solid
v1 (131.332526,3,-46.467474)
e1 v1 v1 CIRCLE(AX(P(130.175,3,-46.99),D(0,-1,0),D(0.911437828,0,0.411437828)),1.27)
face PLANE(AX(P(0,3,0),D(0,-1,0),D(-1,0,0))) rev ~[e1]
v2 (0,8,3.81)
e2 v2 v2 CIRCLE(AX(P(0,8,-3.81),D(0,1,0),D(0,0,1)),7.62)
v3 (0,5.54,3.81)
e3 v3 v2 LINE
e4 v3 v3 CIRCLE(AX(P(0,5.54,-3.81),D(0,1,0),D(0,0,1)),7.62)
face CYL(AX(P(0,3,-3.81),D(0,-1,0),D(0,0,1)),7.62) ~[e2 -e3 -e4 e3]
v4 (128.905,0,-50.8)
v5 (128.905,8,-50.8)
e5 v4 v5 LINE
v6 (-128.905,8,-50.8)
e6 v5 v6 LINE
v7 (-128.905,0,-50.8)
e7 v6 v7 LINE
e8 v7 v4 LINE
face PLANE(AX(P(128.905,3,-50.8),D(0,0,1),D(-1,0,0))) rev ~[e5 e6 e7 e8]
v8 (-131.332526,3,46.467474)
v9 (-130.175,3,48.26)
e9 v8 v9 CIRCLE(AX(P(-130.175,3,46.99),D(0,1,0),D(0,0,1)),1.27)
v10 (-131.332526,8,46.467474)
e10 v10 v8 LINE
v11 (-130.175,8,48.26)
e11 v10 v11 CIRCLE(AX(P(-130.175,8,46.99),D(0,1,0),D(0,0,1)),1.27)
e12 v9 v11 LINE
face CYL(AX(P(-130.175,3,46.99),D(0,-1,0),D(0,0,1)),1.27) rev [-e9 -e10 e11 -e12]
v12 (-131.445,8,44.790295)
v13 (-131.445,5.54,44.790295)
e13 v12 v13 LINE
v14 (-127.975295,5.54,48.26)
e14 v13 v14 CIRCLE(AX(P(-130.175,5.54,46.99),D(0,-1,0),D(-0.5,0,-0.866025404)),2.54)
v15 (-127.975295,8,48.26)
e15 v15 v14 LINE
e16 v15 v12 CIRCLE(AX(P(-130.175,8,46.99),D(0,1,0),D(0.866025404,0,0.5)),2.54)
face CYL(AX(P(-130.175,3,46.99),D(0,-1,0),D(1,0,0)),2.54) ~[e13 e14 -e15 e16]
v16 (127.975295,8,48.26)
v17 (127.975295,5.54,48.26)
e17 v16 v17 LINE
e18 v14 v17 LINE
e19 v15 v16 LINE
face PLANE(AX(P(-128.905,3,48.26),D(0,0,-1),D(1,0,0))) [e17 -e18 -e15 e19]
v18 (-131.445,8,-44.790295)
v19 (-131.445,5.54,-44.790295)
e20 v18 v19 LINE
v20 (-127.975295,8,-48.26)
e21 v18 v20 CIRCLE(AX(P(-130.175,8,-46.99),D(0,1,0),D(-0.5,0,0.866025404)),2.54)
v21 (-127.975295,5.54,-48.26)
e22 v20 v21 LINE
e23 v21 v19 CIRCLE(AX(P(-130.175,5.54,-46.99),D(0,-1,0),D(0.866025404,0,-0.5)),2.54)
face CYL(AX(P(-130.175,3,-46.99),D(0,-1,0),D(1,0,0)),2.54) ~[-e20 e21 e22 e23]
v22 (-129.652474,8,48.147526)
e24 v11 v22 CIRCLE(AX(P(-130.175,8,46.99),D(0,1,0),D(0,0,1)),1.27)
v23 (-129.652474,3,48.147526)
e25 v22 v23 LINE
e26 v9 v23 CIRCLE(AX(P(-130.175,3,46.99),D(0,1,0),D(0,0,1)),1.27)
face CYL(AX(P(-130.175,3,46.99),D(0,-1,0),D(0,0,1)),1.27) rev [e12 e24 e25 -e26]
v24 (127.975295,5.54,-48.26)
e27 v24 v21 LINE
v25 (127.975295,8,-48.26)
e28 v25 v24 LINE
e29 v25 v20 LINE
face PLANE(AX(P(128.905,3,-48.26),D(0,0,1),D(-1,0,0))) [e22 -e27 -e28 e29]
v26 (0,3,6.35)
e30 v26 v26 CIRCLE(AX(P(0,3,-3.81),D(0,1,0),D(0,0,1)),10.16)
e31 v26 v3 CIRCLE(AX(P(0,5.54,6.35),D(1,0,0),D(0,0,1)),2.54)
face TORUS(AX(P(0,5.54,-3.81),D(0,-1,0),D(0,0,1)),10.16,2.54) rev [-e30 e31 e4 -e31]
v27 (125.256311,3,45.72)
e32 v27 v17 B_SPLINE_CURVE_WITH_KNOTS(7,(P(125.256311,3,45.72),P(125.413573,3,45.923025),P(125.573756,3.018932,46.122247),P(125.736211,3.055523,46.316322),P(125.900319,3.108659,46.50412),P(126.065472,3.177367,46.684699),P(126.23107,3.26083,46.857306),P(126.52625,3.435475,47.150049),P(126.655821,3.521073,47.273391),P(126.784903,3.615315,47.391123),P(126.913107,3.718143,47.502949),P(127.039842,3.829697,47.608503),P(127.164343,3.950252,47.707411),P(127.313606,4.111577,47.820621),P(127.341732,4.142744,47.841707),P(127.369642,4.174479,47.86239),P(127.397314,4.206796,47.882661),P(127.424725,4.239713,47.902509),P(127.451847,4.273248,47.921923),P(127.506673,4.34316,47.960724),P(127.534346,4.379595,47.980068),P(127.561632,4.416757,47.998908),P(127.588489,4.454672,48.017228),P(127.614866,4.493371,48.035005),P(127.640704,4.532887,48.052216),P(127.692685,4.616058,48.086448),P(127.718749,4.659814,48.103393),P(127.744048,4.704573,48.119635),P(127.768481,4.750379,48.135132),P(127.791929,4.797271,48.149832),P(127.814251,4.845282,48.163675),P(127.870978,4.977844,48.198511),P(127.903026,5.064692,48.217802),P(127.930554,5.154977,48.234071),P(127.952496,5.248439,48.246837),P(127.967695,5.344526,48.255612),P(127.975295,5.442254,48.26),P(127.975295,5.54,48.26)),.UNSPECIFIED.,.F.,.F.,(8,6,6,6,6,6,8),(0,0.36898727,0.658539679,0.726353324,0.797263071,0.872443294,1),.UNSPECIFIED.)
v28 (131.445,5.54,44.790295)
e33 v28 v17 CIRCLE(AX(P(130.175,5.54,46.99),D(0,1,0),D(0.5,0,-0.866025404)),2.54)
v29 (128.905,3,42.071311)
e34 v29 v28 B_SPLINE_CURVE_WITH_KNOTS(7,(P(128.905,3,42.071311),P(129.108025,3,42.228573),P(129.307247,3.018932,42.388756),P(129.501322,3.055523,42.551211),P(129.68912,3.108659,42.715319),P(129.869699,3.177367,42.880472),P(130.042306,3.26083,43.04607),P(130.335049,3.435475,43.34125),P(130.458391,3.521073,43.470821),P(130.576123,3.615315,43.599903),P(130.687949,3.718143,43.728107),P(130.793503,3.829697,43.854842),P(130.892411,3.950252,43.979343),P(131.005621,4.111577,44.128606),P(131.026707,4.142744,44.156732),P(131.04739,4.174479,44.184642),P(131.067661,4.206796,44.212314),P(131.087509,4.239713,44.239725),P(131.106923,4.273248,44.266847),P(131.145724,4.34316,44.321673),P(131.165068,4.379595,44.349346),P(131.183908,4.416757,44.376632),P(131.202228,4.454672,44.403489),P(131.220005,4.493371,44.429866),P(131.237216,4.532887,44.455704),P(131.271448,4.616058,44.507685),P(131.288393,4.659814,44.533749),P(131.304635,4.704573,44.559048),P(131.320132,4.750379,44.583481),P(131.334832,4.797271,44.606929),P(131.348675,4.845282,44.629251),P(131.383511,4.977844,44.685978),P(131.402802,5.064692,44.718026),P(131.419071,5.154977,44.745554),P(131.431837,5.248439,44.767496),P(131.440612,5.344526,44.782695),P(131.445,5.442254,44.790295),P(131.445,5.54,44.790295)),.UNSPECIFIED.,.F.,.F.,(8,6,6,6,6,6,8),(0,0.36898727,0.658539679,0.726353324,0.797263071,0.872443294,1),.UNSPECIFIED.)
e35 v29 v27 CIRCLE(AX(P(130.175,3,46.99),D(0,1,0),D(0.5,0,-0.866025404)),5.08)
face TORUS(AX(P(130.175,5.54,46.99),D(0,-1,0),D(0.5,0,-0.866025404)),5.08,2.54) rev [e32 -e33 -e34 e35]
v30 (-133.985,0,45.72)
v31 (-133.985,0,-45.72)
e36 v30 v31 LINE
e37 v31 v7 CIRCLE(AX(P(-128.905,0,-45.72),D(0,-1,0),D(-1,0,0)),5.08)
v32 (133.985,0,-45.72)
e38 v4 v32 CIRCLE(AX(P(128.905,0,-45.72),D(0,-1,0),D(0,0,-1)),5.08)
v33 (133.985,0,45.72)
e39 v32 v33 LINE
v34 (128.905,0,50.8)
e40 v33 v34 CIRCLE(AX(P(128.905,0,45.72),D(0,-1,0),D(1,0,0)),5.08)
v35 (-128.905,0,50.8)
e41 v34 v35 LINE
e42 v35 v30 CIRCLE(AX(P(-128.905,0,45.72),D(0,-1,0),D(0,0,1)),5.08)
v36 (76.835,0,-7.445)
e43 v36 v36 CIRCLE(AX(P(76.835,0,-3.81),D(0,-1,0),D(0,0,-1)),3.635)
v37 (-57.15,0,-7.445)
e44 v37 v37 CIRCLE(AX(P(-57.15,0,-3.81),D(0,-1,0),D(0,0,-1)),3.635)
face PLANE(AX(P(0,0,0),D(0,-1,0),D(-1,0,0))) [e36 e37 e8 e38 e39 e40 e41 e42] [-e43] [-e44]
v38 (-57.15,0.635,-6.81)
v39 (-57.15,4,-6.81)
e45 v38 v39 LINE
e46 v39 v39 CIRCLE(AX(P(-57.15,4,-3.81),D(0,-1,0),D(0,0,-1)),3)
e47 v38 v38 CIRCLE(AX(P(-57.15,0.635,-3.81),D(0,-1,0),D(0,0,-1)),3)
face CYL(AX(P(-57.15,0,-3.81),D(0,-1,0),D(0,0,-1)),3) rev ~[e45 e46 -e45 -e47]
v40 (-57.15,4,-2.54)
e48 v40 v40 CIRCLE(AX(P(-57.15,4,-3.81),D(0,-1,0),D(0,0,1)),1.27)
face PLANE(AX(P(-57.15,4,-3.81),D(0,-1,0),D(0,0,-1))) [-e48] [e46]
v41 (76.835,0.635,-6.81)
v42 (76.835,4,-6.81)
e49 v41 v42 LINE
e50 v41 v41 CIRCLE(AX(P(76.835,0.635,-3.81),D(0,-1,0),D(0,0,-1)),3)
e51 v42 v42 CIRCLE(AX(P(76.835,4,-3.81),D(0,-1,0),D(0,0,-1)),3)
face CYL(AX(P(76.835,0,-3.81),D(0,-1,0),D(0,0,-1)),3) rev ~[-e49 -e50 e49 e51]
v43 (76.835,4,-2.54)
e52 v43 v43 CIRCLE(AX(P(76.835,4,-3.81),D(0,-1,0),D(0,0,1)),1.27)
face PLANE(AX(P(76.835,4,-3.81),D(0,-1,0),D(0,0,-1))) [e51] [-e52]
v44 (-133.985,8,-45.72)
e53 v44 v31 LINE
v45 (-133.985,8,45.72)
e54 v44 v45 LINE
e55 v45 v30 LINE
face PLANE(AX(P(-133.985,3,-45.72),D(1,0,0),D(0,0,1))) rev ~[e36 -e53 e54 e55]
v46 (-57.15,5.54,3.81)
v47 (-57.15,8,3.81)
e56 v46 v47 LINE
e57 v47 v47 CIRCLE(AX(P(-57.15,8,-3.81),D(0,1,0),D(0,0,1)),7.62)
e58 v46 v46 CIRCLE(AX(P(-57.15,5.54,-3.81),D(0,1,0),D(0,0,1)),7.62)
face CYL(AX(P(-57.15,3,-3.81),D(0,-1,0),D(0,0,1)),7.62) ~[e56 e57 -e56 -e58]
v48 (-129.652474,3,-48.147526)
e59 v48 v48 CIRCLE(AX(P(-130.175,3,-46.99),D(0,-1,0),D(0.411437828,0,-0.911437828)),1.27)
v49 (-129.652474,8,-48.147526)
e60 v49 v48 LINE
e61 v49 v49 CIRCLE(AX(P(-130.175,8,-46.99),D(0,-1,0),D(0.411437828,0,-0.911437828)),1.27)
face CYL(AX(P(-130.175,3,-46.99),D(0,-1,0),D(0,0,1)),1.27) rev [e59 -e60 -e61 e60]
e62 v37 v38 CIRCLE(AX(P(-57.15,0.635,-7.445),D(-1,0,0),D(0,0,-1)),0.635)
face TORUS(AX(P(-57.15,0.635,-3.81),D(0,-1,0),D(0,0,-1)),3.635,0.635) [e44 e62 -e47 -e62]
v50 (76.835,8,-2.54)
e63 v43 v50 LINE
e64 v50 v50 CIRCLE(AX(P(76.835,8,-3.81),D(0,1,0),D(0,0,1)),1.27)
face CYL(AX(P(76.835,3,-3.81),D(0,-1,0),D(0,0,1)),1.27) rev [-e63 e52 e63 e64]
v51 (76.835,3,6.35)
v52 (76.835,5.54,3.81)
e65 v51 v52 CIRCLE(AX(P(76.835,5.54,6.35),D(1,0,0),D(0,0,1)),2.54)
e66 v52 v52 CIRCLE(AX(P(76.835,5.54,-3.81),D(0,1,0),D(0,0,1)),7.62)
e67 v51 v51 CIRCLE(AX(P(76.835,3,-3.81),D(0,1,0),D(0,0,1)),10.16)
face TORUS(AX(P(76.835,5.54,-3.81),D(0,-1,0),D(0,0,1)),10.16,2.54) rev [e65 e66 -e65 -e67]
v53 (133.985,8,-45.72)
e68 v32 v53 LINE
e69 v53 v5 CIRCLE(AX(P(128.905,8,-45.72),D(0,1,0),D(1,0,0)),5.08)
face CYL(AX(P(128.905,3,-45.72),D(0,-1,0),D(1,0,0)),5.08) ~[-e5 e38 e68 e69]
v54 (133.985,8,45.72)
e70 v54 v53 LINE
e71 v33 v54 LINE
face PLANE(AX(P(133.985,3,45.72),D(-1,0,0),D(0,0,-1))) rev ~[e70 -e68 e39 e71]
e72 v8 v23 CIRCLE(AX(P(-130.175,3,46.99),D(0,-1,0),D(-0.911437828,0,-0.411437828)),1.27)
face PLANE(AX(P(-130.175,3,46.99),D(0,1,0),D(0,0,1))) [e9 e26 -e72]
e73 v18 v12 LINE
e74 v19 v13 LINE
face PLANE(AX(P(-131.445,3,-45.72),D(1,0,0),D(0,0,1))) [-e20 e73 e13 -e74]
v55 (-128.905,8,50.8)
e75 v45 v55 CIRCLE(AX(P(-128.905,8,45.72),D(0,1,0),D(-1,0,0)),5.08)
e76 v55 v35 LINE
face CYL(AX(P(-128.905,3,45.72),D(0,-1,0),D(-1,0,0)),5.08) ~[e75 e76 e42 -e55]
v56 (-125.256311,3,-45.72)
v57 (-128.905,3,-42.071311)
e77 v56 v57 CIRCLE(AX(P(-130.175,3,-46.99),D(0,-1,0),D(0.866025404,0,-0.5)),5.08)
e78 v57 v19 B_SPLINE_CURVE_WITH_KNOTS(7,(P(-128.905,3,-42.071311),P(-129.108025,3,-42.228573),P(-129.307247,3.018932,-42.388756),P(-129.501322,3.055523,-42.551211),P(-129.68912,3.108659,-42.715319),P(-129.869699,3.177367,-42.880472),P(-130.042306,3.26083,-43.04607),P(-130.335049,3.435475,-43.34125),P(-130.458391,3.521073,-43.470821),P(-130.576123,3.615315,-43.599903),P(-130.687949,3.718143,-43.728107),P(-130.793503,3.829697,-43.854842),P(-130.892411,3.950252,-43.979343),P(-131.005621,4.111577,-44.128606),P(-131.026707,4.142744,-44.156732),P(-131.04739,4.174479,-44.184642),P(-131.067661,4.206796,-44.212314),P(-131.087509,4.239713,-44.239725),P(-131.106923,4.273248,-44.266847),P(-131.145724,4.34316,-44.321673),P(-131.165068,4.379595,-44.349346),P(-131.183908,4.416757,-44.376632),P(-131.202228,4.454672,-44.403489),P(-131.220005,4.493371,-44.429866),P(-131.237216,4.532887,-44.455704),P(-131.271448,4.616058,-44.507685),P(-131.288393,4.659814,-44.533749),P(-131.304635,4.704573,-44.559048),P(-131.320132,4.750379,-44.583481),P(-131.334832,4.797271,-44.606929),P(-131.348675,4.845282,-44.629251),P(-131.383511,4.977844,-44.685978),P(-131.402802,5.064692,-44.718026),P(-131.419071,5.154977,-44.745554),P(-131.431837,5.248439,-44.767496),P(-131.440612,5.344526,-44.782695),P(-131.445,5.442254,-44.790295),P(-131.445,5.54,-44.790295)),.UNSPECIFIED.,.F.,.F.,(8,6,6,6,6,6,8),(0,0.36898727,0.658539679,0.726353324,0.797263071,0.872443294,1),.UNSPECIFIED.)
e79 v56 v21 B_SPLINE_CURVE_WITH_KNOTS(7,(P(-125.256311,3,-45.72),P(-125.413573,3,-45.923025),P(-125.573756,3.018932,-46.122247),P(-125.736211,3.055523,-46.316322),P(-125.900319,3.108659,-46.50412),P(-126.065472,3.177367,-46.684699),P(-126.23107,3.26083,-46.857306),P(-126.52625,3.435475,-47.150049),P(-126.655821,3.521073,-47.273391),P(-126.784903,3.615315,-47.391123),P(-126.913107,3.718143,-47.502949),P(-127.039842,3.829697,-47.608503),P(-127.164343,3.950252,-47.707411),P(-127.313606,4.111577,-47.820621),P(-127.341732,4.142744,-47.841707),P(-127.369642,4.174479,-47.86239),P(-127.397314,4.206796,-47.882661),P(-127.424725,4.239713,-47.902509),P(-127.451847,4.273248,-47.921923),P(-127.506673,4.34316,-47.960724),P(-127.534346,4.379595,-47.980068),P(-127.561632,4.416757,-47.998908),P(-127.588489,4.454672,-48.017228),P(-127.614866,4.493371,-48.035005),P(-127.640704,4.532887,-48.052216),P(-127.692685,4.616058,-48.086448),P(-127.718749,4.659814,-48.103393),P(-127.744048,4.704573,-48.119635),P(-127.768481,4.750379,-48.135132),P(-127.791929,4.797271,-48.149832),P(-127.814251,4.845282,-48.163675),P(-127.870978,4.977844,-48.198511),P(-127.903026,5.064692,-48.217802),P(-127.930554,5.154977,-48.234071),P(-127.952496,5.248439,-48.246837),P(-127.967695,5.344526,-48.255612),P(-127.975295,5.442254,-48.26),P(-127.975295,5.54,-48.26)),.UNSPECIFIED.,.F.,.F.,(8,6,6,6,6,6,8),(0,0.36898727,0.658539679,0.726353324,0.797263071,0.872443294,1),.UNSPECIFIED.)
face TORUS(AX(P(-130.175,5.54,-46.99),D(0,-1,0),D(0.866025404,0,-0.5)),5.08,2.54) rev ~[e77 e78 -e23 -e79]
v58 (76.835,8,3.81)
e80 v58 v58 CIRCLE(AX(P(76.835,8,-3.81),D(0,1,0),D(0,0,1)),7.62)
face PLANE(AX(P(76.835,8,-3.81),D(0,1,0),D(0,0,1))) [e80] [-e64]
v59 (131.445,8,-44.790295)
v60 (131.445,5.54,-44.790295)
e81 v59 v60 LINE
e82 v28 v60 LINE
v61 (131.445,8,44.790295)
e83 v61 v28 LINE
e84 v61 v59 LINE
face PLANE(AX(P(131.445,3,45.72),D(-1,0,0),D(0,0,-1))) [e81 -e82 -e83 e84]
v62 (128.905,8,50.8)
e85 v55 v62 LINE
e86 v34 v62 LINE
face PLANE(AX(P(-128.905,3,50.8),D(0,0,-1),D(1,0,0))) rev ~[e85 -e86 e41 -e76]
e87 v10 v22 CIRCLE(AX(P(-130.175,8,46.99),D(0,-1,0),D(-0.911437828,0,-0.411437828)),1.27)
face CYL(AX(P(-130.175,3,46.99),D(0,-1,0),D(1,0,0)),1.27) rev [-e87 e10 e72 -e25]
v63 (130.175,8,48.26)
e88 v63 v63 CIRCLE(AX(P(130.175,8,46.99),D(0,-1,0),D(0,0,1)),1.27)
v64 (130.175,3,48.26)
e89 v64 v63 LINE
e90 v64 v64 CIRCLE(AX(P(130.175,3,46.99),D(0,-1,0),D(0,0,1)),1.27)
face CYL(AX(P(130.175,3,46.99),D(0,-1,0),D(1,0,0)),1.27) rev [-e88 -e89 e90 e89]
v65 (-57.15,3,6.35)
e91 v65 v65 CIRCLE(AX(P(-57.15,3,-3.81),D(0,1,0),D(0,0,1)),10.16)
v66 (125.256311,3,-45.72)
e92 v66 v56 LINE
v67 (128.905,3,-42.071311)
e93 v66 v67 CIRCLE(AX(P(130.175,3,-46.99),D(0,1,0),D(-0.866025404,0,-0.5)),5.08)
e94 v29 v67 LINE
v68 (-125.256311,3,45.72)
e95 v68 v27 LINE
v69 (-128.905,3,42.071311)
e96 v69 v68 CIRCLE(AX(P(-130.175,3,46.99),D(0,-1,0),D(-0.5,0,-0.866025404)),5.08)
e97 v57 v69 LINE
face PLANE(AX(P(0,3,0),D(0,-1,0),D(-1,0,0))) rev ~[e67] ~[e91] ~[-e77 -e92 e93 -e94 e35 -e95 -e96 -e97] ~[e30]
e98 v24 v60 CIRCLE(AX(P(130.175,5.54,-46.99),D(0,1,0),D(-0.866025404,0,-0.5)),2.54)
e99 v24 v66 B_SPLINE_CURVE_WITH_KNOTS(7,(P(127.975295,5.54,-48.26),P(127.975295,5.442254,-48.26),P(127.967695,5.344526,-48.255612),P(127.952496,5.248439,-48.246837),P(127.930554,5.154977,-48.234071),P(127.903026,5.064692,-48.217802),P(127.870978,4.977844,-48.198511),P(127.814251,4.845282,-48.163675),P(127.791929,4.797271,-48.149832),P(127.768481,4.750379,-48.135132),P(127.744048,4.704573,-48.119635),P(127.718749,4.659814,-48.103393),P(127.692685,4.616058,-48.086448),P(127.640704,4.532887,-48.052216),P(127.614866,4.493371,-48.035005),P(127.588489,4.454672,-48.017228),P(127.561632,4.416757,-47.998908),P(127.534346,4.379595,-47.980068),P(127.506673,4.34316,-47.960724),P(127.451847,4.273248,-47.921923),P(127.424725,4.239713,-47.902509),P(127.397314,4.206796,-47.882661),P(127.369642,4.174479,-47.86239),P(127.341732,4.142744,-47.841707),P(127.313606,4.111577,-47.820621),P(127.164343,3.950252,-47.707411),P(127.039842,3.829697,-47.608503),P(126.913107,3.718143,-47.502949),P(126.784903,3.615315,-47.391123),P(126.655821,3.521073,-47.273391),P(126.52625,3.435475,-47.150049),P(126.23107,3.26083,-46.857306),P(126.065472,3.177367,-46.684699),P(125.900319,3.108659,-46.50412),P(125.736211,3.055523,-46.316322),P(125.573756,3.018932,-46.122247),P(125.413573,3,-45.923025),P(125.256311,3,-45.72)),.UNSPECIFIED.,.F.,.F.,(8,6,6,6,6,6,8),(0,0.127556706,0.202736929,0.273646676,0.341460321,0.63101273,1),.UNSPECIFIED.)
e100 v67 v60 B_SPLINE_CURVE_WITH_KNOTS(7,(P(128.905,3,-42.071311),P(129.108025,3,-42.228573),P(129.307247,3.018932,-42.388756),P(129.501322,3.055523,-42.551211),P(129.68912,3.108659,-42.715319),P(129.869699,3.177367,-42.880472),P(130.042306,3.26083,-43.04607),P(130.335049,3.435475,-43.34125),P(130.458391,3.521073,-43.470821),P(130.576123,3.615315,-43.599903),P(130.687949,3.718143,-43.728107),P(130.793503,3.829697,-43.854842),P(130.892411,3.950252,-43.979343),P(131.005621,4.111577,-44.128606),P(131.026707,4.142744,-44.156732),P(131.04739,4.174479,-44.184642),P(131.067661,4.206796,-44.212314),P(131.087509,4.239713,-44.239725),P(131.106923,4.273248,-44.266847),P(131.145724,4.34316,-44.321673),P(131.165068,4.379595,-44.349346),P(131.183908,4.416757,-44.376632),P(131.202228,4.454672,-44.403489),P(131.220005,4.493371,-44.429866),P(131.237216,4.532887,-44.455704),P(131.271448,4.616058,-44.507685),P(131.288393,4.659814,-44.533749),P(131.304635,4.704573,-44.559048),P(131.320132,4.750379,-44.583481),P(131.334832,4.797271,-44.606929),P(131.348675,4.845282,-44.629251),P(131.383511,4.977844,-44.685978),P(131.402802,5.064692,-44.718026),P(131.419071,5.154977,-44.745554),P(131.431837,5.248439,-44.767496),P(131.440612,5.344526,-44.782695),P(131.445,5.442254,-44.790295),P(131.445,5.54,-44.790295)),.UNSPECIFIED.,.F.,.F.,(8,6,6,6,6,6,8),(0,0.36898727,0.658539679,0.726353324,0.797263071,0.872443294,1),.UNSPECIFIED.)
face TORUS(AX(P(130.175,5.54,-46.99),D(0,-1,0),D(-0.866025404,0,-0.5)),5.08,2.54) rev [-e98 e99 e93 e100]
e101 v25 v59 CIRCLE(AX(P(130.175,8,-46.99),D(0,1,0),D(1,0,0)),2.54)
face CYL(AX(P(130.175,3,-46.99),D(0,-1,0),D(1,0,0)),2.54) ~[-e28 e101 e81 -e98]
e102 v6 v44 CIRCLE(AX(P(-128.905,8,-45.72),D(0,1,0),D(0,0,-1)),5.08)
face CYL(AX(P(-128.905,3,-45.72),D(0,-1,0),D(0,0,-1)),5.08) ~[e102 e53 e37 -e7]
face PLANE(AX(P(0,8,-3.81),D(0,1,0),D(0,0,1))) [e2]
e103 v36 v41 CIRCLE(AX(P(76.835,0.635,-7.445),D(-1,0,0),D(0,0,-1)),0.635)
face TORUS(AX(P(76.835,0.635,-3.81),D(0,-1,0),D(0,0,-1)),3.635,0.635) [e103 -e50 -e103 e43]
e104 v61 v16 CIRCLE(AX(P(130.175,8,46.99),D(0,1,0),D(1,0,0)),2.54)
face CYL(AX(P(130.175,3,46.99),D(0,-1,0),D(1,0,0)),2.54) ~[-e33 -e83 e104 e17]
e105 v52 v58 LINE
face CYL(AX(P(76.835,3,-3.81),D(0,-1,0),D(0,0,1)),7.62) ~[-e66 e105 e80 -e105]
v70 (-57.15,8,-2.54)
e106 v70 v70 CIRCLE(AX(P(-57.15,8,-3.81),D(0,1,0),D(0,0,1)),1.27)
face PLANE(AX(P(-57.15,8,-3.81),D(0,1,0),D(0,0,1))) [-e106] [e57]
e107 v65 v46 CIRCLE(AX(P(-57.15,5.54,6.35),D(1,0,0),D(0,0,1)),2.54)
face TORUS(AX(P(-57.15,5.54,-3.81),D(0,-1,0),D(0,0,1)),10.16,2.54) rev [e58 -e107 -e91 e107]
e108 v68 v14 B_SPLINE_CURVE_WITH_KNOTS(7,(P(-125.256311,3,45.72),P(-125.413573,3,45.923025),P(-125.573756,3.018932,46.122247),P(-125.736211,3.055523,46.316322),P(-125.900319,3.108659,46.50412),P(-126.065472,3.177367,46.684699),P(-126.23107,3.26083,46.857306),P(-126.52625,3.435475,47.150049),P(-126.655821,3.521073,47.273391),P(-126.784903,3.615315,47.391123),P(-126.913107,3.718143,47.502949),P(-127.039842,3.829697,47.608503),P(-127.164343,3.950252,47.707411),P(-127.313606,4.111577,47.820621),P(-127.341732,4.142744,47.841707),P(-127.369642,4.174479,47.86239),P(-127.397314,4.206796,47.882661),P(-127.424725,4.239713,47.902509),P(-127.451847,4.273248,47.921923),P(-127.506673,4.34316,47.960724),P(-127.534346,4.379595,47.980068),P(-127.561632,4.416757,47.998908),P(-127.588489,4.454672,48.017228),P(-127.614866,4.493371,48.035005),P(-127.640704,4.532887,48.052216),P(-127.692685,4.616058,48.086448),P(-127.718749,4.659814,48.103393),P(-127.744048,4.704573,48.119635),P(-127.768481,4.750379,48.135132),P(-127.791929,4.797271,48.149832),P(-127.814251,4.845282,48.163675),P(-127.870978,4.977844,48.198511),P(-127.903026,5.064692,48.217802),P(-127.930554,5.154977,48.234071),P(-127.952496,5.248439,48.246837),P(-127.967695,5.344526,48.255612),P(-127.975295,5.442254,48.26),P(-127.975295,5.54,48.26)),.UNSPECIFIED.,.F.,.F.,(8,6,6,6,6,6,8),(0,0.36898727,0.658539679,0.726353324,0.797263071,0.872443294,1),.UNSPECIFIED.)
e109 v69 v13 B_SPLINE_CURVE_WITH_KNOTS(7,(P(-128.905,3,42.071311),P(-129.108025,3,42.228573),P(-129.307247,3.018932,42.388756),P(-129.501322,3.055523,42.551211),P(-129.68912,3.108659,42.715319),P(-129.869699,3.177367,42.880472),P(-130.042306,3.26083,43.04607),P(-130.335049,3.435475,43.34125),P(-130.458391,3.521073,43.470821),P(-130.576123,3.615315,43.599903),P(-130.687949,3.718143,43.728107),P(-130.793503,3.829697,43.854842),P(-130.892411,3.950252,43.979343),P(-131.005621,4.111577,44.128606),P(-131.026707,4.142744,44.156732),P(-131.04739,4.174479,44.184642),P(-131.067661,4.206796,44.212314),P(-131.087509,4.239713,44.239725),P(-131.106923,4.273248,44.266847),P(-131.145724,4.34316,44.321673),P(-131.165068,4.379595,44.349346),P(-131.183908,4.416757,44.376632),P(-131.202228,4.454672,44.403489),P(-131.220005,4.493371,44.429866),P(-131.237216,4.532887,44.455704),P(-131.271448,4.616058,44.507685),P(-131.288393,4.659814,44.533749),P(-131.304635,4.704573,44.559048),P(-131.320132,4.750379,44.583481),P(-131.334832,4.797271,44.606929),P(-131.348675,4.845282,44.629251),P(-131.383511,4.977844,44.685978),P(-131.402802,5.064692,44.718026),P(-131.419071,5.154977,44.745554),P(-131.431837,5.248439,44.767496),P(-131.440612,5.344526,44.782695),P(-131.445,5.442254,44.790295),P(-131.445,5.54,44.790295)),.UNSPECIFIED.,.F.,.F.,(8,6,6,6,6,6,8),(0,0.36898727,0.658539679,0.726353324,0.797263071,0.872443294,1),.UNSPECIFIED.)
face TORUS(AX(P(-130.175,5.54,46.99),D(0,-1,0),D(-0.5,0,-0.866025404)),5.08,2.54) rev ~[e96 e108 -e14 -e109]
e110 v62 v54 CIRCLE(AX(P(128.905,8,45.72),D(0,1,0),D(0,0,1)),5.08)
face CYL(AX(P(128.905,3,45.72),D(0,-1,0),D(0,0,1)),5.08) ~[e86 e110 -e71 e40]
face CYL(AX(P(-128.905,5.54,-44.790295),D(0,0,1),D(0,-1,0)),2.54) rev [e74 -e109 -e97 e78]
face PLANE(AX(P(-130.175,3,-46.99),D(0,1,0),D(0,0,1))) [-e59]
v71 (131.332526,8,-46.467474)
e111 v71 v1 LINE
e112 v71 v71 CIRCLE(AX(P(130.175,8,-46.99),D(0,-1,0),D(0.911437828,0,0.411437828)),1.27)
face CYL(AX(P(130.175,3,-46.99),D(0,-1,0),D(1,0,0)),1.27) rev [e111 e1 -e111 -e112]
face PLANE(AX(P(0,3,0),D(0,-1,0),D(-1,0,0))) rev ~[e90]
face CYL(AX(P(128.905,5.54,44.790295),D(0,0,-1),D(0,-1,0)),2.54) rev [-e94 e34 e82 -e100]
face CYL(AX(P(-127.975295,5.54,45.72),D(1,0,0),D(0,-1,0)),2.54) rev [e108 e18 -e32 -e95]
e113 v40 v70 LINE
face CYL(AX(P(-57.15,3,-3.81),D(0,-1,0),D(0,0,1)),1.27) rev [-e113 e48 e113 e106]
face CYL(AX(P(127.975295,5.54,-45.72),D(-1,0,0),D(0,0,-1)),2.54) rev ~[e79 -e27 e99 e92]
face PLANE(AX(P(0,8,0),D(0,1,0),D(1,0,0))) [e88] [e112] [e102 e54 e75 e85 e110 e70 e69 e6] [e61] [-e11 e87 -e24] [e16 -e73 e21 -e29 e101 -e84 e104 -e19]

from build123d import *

# Parameters (mm, degrees)
BOSS_EXTRUDE1_DEPTH = 3
BOSS_EXTRUDE2_DEPTH = 5
SKETCH3_R           = 7.62
SKETCH3_R_2         = 1.27
SKETCH3_R_3         = 2.54
BOSS_EXTRUDE3_DEPTH = 5
FILLET1_R           = 2.54
SKETCH4_R           = 3
CUT_EXTRUDE1_DEPTH  = 4
FILLET2_R           = 0.635
CUT_EXTRUDE2_START  = -5
SKETCH5_R           = 1.27
CUT_EXTRUDE2_DEPTH  = 5


with BuildPart() as part:
    # Sketch1 → Boss-Extrude1 (new body)
    with BuildSketch(Plane(origin=(0, 0, 0), x_dir=(1, 0, 0), z_dir=(0, 1, 0))):
        with BuildLine():
            Line((-128.905, 50.8), (128.905, 50.8))
            ThreePointArc((128.905, 50.8), (132.497102448, 49.312102448), (133.985, 45.72))
            Line((133.985, 45.72), (133.985, -45.72))
            ThreePointArc((133.985, -45.72), (132.497102448, -49.312102448), (128.905, -50.8))
            Line((128.905, -50.8), (-128.905, -50.8))
            ThreePointArc((-128.905, -50.8), (-132.497102448, -49.312102448), (-133.985, -45.72))
            Line((-133.985, -45.72), (-133.985, 45.72))
            ThreePointArc((-133.985, 45.72), (-132.497102448, 49.312102448), (-128.905, 50.8))
        make_face()
    extrude(amount=BOSS_EXTRUDE1_DEPTH)

    # Sketch2 → Boss-Extrude2 (add)
    with BuildSketch(Plane(origin=(0, 3, 0), x_dir=(1, 0, 0), z_dir=(0, 1, 0))):
        with BuildLine():
            Line((-128.905, -50.8), (128.905, -50.8))
            ThreePointArc((128.905, -50.8), (132.497102448, -49.312102448), (133.985, -45.72))
            Line((133.985, -45.72), (133.985, 45.72))
            ThreePointArc((133.985, 45.72), (132.497102448, 49.312102448), (128.905, 50.8))
            Line((128.905, 50.8), (-128.905, 50.8))
            ThreePointArc((-128.905, 50.8), (-132.497102448, 49.312102448), (-133.985, 45.72))
            Line((-133.985, 45.72), (-133.985, -45.72))
            ThreePointArc((-133.985, -45.72), (-132.497102448, -49.312102448), (-128.905, -50.8))
        make_face()
        with BuildLine():
            Line((-128.905, -48.26), (128.905, -48.26))
            ThreePointArc((128.905, -48.26), (130.701051224, -47.516051224), (131.445, -45.72))
            Line((131.445, -45.72), (131.445, 45.72))
            ThreePointArc((131.445, 45.72), (130.701051224, 47.516051224), (128.905, 48.26))
            Line((128.905, 48.26), (-128.905, 48.26))
            ThreePointArc((-128.905, 48.26), (-130.701051224, 47.516051224), (-131.445, 45.72))
            Line((-131.445, 45.72), (-131.445, -45.72))
            ThreePointArc((-131.445, -45.72), (-130.701051224, -47.516051224), (-128.905, -48.26))
        make_face(mode=Mode.SUBTRACT)
    extrude(amount=BOSS_EXTRUDE2_DEPTH)

    # Sketch3 → Boss-Extrude3 (add)
    # profile 1 of 7: a face of its own
    with BuildSketch(Plane(origin=(0, 3, 0), x_dir=(1, 0, 0), z_dir=(0, 1, 0))):
        with Locations(Location((-57.15, 3.81, 0), (0, 0, 270))):
            Circle(SKETCH3_R)
        with Locations(Location((-57.15, 3.81, 0), (0, 0, 270))):
            Circle(SKETCH3_R_2, mode=Mode.SUBTRACT)
    # profile 2 of 7: a face of its own
    with BuildSketch(Plane(origin=(0, 3, 0), x_dir=(1, 0, 0), z_dir=(0, 1, 0))):
        with Locations(Location((0, 3.81, 0), (0, 0, 270))):
            Circle(SKETCH3_R)
    # profile 3 of 7: a face of its own
    with BuildSketch(Plane(origin=(0, 3, 0), x_dir=(1, 0, 0), z_dir=(0, 1, 0))):
        with Locations(Location((76.835, 3.81, 0), (0, 0, 270))):
            Circle(SKETCH3_R)
        with Locations(Location((76.835, 3.81, 0), (0, 0, 270))):
            Circle(SKETCH3_R_2, mode=Mode.SUBTRACT)
    # profile 4 of 7: a face of its own
    with BuildSketch(Plane(origin=(0, 3, 0), x_dir=(1, 0, 0), z_dir=(0, 1, 0))):
        with Locations((130.175, 46.99)):
            Circle(SKETCH3_R_3)
        with Locations((130.175, 46.99)):
            Circle(SKETCH3_R_2, mode=Mode.SUBTRACT)
    # profile 5 of 7: a face of its own
    with BuildSketch(Plane(origin=(0, 3, 0), x_dir=(1, 0, 0), z_dir=(0, 1, 0))):
        with Locations((-130.175, 46.99)):
            Circle(SKETCH3_R_3)
        with Locations((-130.175, 46.99)):
            Circle(SKETCH3_R_2, mode=Mode.SUBTRACT)
    # profile 6 of 7: a face of its own
    with BuildSketch(Plane(origin=(0, 3, 0), x_dir=(1, 0, 0), z_dir=(0, 1, 0))):
        with Locations((-130.175, -46.99)):
            Circle(SKETCH3_R_3)
        with Locations((-130.175, -46.99)):
            Circle(SKETCH3_R_2, mode=Mode.SUBTRACT)
    # profile 7 of 7: a face of its own
    with BuildSketch(Plane(origin=(0, 3, 0), x_dir=(1, 0, 0), z_dir=(0, 1, 0))):
        with Locations((130.175, -46.99)):
            Circle(SKETCH3_R_3)
        with Locations((130.175, -46.99)):
            Circle(SKETCH3_R_2, mode=Mode.SUBTRACT)
    extrude(amount=BOSS_EXTRUDE3_DEPTH)

    # Fillet1
    fillet1_edges = [part.edges().sort_by_distance(p)[0] for p in [
        (-131.445, 3, 0),
        (-128.378948776, 3, -45.193948776),
        (0, 3, 48.26),
        (-128.378948776, 3, 45.193948776),
        (131.445, 3, 0),
        (128.378948776, 3, 45.193948776),
        (-57.15, 3, -11.43),
        (0, 3, -11.43),
        (76.835, 3, -11.43),
        (0, 3, -48.26),
        (128.378948776, 3, -45.193948776),
    ]]
    fillet(fillet1_edges, radius=FILLET1_R)

    # Sketch4 → Cut-Extrude1 (cut)
    with BuildSketch(Plane.XZ):
        with Locations(Location((-57.15, -3.81, 0), (0, 0, 270))):
            Circle(SKETCH4_R)
        with Locations(Location((76.835, -3.81, 0), (0, 0, 270))):
            Circle(SKETCH4_R)
    extrude(amount=-CUT_EXTRUDE1_DEPTH, mode=Mode.SUBTRACT)

    # Fillet2
    fillet2_edges = [part.edges().sort_by_distance(p)[0] for p in [
        (-57.15, 0, -0.81),
        (76.835, 0, -0.81),
    ]]
    fillet(fillet2_edges, radius=FILLET2_R)

    # Sketch5 → Cut-Extrude2 (cut)
    with BuildSketch(Plane(origin=(0, 8, 0), x_dir=(1, 0, 0), z_dir=(0, 1, 0)).offset(CUT_EXTRUDE2_START)):
        with Locations(Location((130.175, 46.99, 0), (0, 0, 270))):
            Circle(SKETCH5_R)
        with Locations(Location((130.175, -46.99, 0), (0, 0, 270))):
            Circle(SKETCH5_R)
        with Locations(Location((-130.175, -46.99, 0), (0, 0, 270))):
            Circle(SKETCH5_R)
        with Locations(Location((-130.175, 46.99, 0), (0, 0, 270))):
            Circle(SKETCH5_R)
    extrude(amount=CUT_EXTRUDE2_DEPTH, mode=Mode.SUBTRACT)


solid = part.part
